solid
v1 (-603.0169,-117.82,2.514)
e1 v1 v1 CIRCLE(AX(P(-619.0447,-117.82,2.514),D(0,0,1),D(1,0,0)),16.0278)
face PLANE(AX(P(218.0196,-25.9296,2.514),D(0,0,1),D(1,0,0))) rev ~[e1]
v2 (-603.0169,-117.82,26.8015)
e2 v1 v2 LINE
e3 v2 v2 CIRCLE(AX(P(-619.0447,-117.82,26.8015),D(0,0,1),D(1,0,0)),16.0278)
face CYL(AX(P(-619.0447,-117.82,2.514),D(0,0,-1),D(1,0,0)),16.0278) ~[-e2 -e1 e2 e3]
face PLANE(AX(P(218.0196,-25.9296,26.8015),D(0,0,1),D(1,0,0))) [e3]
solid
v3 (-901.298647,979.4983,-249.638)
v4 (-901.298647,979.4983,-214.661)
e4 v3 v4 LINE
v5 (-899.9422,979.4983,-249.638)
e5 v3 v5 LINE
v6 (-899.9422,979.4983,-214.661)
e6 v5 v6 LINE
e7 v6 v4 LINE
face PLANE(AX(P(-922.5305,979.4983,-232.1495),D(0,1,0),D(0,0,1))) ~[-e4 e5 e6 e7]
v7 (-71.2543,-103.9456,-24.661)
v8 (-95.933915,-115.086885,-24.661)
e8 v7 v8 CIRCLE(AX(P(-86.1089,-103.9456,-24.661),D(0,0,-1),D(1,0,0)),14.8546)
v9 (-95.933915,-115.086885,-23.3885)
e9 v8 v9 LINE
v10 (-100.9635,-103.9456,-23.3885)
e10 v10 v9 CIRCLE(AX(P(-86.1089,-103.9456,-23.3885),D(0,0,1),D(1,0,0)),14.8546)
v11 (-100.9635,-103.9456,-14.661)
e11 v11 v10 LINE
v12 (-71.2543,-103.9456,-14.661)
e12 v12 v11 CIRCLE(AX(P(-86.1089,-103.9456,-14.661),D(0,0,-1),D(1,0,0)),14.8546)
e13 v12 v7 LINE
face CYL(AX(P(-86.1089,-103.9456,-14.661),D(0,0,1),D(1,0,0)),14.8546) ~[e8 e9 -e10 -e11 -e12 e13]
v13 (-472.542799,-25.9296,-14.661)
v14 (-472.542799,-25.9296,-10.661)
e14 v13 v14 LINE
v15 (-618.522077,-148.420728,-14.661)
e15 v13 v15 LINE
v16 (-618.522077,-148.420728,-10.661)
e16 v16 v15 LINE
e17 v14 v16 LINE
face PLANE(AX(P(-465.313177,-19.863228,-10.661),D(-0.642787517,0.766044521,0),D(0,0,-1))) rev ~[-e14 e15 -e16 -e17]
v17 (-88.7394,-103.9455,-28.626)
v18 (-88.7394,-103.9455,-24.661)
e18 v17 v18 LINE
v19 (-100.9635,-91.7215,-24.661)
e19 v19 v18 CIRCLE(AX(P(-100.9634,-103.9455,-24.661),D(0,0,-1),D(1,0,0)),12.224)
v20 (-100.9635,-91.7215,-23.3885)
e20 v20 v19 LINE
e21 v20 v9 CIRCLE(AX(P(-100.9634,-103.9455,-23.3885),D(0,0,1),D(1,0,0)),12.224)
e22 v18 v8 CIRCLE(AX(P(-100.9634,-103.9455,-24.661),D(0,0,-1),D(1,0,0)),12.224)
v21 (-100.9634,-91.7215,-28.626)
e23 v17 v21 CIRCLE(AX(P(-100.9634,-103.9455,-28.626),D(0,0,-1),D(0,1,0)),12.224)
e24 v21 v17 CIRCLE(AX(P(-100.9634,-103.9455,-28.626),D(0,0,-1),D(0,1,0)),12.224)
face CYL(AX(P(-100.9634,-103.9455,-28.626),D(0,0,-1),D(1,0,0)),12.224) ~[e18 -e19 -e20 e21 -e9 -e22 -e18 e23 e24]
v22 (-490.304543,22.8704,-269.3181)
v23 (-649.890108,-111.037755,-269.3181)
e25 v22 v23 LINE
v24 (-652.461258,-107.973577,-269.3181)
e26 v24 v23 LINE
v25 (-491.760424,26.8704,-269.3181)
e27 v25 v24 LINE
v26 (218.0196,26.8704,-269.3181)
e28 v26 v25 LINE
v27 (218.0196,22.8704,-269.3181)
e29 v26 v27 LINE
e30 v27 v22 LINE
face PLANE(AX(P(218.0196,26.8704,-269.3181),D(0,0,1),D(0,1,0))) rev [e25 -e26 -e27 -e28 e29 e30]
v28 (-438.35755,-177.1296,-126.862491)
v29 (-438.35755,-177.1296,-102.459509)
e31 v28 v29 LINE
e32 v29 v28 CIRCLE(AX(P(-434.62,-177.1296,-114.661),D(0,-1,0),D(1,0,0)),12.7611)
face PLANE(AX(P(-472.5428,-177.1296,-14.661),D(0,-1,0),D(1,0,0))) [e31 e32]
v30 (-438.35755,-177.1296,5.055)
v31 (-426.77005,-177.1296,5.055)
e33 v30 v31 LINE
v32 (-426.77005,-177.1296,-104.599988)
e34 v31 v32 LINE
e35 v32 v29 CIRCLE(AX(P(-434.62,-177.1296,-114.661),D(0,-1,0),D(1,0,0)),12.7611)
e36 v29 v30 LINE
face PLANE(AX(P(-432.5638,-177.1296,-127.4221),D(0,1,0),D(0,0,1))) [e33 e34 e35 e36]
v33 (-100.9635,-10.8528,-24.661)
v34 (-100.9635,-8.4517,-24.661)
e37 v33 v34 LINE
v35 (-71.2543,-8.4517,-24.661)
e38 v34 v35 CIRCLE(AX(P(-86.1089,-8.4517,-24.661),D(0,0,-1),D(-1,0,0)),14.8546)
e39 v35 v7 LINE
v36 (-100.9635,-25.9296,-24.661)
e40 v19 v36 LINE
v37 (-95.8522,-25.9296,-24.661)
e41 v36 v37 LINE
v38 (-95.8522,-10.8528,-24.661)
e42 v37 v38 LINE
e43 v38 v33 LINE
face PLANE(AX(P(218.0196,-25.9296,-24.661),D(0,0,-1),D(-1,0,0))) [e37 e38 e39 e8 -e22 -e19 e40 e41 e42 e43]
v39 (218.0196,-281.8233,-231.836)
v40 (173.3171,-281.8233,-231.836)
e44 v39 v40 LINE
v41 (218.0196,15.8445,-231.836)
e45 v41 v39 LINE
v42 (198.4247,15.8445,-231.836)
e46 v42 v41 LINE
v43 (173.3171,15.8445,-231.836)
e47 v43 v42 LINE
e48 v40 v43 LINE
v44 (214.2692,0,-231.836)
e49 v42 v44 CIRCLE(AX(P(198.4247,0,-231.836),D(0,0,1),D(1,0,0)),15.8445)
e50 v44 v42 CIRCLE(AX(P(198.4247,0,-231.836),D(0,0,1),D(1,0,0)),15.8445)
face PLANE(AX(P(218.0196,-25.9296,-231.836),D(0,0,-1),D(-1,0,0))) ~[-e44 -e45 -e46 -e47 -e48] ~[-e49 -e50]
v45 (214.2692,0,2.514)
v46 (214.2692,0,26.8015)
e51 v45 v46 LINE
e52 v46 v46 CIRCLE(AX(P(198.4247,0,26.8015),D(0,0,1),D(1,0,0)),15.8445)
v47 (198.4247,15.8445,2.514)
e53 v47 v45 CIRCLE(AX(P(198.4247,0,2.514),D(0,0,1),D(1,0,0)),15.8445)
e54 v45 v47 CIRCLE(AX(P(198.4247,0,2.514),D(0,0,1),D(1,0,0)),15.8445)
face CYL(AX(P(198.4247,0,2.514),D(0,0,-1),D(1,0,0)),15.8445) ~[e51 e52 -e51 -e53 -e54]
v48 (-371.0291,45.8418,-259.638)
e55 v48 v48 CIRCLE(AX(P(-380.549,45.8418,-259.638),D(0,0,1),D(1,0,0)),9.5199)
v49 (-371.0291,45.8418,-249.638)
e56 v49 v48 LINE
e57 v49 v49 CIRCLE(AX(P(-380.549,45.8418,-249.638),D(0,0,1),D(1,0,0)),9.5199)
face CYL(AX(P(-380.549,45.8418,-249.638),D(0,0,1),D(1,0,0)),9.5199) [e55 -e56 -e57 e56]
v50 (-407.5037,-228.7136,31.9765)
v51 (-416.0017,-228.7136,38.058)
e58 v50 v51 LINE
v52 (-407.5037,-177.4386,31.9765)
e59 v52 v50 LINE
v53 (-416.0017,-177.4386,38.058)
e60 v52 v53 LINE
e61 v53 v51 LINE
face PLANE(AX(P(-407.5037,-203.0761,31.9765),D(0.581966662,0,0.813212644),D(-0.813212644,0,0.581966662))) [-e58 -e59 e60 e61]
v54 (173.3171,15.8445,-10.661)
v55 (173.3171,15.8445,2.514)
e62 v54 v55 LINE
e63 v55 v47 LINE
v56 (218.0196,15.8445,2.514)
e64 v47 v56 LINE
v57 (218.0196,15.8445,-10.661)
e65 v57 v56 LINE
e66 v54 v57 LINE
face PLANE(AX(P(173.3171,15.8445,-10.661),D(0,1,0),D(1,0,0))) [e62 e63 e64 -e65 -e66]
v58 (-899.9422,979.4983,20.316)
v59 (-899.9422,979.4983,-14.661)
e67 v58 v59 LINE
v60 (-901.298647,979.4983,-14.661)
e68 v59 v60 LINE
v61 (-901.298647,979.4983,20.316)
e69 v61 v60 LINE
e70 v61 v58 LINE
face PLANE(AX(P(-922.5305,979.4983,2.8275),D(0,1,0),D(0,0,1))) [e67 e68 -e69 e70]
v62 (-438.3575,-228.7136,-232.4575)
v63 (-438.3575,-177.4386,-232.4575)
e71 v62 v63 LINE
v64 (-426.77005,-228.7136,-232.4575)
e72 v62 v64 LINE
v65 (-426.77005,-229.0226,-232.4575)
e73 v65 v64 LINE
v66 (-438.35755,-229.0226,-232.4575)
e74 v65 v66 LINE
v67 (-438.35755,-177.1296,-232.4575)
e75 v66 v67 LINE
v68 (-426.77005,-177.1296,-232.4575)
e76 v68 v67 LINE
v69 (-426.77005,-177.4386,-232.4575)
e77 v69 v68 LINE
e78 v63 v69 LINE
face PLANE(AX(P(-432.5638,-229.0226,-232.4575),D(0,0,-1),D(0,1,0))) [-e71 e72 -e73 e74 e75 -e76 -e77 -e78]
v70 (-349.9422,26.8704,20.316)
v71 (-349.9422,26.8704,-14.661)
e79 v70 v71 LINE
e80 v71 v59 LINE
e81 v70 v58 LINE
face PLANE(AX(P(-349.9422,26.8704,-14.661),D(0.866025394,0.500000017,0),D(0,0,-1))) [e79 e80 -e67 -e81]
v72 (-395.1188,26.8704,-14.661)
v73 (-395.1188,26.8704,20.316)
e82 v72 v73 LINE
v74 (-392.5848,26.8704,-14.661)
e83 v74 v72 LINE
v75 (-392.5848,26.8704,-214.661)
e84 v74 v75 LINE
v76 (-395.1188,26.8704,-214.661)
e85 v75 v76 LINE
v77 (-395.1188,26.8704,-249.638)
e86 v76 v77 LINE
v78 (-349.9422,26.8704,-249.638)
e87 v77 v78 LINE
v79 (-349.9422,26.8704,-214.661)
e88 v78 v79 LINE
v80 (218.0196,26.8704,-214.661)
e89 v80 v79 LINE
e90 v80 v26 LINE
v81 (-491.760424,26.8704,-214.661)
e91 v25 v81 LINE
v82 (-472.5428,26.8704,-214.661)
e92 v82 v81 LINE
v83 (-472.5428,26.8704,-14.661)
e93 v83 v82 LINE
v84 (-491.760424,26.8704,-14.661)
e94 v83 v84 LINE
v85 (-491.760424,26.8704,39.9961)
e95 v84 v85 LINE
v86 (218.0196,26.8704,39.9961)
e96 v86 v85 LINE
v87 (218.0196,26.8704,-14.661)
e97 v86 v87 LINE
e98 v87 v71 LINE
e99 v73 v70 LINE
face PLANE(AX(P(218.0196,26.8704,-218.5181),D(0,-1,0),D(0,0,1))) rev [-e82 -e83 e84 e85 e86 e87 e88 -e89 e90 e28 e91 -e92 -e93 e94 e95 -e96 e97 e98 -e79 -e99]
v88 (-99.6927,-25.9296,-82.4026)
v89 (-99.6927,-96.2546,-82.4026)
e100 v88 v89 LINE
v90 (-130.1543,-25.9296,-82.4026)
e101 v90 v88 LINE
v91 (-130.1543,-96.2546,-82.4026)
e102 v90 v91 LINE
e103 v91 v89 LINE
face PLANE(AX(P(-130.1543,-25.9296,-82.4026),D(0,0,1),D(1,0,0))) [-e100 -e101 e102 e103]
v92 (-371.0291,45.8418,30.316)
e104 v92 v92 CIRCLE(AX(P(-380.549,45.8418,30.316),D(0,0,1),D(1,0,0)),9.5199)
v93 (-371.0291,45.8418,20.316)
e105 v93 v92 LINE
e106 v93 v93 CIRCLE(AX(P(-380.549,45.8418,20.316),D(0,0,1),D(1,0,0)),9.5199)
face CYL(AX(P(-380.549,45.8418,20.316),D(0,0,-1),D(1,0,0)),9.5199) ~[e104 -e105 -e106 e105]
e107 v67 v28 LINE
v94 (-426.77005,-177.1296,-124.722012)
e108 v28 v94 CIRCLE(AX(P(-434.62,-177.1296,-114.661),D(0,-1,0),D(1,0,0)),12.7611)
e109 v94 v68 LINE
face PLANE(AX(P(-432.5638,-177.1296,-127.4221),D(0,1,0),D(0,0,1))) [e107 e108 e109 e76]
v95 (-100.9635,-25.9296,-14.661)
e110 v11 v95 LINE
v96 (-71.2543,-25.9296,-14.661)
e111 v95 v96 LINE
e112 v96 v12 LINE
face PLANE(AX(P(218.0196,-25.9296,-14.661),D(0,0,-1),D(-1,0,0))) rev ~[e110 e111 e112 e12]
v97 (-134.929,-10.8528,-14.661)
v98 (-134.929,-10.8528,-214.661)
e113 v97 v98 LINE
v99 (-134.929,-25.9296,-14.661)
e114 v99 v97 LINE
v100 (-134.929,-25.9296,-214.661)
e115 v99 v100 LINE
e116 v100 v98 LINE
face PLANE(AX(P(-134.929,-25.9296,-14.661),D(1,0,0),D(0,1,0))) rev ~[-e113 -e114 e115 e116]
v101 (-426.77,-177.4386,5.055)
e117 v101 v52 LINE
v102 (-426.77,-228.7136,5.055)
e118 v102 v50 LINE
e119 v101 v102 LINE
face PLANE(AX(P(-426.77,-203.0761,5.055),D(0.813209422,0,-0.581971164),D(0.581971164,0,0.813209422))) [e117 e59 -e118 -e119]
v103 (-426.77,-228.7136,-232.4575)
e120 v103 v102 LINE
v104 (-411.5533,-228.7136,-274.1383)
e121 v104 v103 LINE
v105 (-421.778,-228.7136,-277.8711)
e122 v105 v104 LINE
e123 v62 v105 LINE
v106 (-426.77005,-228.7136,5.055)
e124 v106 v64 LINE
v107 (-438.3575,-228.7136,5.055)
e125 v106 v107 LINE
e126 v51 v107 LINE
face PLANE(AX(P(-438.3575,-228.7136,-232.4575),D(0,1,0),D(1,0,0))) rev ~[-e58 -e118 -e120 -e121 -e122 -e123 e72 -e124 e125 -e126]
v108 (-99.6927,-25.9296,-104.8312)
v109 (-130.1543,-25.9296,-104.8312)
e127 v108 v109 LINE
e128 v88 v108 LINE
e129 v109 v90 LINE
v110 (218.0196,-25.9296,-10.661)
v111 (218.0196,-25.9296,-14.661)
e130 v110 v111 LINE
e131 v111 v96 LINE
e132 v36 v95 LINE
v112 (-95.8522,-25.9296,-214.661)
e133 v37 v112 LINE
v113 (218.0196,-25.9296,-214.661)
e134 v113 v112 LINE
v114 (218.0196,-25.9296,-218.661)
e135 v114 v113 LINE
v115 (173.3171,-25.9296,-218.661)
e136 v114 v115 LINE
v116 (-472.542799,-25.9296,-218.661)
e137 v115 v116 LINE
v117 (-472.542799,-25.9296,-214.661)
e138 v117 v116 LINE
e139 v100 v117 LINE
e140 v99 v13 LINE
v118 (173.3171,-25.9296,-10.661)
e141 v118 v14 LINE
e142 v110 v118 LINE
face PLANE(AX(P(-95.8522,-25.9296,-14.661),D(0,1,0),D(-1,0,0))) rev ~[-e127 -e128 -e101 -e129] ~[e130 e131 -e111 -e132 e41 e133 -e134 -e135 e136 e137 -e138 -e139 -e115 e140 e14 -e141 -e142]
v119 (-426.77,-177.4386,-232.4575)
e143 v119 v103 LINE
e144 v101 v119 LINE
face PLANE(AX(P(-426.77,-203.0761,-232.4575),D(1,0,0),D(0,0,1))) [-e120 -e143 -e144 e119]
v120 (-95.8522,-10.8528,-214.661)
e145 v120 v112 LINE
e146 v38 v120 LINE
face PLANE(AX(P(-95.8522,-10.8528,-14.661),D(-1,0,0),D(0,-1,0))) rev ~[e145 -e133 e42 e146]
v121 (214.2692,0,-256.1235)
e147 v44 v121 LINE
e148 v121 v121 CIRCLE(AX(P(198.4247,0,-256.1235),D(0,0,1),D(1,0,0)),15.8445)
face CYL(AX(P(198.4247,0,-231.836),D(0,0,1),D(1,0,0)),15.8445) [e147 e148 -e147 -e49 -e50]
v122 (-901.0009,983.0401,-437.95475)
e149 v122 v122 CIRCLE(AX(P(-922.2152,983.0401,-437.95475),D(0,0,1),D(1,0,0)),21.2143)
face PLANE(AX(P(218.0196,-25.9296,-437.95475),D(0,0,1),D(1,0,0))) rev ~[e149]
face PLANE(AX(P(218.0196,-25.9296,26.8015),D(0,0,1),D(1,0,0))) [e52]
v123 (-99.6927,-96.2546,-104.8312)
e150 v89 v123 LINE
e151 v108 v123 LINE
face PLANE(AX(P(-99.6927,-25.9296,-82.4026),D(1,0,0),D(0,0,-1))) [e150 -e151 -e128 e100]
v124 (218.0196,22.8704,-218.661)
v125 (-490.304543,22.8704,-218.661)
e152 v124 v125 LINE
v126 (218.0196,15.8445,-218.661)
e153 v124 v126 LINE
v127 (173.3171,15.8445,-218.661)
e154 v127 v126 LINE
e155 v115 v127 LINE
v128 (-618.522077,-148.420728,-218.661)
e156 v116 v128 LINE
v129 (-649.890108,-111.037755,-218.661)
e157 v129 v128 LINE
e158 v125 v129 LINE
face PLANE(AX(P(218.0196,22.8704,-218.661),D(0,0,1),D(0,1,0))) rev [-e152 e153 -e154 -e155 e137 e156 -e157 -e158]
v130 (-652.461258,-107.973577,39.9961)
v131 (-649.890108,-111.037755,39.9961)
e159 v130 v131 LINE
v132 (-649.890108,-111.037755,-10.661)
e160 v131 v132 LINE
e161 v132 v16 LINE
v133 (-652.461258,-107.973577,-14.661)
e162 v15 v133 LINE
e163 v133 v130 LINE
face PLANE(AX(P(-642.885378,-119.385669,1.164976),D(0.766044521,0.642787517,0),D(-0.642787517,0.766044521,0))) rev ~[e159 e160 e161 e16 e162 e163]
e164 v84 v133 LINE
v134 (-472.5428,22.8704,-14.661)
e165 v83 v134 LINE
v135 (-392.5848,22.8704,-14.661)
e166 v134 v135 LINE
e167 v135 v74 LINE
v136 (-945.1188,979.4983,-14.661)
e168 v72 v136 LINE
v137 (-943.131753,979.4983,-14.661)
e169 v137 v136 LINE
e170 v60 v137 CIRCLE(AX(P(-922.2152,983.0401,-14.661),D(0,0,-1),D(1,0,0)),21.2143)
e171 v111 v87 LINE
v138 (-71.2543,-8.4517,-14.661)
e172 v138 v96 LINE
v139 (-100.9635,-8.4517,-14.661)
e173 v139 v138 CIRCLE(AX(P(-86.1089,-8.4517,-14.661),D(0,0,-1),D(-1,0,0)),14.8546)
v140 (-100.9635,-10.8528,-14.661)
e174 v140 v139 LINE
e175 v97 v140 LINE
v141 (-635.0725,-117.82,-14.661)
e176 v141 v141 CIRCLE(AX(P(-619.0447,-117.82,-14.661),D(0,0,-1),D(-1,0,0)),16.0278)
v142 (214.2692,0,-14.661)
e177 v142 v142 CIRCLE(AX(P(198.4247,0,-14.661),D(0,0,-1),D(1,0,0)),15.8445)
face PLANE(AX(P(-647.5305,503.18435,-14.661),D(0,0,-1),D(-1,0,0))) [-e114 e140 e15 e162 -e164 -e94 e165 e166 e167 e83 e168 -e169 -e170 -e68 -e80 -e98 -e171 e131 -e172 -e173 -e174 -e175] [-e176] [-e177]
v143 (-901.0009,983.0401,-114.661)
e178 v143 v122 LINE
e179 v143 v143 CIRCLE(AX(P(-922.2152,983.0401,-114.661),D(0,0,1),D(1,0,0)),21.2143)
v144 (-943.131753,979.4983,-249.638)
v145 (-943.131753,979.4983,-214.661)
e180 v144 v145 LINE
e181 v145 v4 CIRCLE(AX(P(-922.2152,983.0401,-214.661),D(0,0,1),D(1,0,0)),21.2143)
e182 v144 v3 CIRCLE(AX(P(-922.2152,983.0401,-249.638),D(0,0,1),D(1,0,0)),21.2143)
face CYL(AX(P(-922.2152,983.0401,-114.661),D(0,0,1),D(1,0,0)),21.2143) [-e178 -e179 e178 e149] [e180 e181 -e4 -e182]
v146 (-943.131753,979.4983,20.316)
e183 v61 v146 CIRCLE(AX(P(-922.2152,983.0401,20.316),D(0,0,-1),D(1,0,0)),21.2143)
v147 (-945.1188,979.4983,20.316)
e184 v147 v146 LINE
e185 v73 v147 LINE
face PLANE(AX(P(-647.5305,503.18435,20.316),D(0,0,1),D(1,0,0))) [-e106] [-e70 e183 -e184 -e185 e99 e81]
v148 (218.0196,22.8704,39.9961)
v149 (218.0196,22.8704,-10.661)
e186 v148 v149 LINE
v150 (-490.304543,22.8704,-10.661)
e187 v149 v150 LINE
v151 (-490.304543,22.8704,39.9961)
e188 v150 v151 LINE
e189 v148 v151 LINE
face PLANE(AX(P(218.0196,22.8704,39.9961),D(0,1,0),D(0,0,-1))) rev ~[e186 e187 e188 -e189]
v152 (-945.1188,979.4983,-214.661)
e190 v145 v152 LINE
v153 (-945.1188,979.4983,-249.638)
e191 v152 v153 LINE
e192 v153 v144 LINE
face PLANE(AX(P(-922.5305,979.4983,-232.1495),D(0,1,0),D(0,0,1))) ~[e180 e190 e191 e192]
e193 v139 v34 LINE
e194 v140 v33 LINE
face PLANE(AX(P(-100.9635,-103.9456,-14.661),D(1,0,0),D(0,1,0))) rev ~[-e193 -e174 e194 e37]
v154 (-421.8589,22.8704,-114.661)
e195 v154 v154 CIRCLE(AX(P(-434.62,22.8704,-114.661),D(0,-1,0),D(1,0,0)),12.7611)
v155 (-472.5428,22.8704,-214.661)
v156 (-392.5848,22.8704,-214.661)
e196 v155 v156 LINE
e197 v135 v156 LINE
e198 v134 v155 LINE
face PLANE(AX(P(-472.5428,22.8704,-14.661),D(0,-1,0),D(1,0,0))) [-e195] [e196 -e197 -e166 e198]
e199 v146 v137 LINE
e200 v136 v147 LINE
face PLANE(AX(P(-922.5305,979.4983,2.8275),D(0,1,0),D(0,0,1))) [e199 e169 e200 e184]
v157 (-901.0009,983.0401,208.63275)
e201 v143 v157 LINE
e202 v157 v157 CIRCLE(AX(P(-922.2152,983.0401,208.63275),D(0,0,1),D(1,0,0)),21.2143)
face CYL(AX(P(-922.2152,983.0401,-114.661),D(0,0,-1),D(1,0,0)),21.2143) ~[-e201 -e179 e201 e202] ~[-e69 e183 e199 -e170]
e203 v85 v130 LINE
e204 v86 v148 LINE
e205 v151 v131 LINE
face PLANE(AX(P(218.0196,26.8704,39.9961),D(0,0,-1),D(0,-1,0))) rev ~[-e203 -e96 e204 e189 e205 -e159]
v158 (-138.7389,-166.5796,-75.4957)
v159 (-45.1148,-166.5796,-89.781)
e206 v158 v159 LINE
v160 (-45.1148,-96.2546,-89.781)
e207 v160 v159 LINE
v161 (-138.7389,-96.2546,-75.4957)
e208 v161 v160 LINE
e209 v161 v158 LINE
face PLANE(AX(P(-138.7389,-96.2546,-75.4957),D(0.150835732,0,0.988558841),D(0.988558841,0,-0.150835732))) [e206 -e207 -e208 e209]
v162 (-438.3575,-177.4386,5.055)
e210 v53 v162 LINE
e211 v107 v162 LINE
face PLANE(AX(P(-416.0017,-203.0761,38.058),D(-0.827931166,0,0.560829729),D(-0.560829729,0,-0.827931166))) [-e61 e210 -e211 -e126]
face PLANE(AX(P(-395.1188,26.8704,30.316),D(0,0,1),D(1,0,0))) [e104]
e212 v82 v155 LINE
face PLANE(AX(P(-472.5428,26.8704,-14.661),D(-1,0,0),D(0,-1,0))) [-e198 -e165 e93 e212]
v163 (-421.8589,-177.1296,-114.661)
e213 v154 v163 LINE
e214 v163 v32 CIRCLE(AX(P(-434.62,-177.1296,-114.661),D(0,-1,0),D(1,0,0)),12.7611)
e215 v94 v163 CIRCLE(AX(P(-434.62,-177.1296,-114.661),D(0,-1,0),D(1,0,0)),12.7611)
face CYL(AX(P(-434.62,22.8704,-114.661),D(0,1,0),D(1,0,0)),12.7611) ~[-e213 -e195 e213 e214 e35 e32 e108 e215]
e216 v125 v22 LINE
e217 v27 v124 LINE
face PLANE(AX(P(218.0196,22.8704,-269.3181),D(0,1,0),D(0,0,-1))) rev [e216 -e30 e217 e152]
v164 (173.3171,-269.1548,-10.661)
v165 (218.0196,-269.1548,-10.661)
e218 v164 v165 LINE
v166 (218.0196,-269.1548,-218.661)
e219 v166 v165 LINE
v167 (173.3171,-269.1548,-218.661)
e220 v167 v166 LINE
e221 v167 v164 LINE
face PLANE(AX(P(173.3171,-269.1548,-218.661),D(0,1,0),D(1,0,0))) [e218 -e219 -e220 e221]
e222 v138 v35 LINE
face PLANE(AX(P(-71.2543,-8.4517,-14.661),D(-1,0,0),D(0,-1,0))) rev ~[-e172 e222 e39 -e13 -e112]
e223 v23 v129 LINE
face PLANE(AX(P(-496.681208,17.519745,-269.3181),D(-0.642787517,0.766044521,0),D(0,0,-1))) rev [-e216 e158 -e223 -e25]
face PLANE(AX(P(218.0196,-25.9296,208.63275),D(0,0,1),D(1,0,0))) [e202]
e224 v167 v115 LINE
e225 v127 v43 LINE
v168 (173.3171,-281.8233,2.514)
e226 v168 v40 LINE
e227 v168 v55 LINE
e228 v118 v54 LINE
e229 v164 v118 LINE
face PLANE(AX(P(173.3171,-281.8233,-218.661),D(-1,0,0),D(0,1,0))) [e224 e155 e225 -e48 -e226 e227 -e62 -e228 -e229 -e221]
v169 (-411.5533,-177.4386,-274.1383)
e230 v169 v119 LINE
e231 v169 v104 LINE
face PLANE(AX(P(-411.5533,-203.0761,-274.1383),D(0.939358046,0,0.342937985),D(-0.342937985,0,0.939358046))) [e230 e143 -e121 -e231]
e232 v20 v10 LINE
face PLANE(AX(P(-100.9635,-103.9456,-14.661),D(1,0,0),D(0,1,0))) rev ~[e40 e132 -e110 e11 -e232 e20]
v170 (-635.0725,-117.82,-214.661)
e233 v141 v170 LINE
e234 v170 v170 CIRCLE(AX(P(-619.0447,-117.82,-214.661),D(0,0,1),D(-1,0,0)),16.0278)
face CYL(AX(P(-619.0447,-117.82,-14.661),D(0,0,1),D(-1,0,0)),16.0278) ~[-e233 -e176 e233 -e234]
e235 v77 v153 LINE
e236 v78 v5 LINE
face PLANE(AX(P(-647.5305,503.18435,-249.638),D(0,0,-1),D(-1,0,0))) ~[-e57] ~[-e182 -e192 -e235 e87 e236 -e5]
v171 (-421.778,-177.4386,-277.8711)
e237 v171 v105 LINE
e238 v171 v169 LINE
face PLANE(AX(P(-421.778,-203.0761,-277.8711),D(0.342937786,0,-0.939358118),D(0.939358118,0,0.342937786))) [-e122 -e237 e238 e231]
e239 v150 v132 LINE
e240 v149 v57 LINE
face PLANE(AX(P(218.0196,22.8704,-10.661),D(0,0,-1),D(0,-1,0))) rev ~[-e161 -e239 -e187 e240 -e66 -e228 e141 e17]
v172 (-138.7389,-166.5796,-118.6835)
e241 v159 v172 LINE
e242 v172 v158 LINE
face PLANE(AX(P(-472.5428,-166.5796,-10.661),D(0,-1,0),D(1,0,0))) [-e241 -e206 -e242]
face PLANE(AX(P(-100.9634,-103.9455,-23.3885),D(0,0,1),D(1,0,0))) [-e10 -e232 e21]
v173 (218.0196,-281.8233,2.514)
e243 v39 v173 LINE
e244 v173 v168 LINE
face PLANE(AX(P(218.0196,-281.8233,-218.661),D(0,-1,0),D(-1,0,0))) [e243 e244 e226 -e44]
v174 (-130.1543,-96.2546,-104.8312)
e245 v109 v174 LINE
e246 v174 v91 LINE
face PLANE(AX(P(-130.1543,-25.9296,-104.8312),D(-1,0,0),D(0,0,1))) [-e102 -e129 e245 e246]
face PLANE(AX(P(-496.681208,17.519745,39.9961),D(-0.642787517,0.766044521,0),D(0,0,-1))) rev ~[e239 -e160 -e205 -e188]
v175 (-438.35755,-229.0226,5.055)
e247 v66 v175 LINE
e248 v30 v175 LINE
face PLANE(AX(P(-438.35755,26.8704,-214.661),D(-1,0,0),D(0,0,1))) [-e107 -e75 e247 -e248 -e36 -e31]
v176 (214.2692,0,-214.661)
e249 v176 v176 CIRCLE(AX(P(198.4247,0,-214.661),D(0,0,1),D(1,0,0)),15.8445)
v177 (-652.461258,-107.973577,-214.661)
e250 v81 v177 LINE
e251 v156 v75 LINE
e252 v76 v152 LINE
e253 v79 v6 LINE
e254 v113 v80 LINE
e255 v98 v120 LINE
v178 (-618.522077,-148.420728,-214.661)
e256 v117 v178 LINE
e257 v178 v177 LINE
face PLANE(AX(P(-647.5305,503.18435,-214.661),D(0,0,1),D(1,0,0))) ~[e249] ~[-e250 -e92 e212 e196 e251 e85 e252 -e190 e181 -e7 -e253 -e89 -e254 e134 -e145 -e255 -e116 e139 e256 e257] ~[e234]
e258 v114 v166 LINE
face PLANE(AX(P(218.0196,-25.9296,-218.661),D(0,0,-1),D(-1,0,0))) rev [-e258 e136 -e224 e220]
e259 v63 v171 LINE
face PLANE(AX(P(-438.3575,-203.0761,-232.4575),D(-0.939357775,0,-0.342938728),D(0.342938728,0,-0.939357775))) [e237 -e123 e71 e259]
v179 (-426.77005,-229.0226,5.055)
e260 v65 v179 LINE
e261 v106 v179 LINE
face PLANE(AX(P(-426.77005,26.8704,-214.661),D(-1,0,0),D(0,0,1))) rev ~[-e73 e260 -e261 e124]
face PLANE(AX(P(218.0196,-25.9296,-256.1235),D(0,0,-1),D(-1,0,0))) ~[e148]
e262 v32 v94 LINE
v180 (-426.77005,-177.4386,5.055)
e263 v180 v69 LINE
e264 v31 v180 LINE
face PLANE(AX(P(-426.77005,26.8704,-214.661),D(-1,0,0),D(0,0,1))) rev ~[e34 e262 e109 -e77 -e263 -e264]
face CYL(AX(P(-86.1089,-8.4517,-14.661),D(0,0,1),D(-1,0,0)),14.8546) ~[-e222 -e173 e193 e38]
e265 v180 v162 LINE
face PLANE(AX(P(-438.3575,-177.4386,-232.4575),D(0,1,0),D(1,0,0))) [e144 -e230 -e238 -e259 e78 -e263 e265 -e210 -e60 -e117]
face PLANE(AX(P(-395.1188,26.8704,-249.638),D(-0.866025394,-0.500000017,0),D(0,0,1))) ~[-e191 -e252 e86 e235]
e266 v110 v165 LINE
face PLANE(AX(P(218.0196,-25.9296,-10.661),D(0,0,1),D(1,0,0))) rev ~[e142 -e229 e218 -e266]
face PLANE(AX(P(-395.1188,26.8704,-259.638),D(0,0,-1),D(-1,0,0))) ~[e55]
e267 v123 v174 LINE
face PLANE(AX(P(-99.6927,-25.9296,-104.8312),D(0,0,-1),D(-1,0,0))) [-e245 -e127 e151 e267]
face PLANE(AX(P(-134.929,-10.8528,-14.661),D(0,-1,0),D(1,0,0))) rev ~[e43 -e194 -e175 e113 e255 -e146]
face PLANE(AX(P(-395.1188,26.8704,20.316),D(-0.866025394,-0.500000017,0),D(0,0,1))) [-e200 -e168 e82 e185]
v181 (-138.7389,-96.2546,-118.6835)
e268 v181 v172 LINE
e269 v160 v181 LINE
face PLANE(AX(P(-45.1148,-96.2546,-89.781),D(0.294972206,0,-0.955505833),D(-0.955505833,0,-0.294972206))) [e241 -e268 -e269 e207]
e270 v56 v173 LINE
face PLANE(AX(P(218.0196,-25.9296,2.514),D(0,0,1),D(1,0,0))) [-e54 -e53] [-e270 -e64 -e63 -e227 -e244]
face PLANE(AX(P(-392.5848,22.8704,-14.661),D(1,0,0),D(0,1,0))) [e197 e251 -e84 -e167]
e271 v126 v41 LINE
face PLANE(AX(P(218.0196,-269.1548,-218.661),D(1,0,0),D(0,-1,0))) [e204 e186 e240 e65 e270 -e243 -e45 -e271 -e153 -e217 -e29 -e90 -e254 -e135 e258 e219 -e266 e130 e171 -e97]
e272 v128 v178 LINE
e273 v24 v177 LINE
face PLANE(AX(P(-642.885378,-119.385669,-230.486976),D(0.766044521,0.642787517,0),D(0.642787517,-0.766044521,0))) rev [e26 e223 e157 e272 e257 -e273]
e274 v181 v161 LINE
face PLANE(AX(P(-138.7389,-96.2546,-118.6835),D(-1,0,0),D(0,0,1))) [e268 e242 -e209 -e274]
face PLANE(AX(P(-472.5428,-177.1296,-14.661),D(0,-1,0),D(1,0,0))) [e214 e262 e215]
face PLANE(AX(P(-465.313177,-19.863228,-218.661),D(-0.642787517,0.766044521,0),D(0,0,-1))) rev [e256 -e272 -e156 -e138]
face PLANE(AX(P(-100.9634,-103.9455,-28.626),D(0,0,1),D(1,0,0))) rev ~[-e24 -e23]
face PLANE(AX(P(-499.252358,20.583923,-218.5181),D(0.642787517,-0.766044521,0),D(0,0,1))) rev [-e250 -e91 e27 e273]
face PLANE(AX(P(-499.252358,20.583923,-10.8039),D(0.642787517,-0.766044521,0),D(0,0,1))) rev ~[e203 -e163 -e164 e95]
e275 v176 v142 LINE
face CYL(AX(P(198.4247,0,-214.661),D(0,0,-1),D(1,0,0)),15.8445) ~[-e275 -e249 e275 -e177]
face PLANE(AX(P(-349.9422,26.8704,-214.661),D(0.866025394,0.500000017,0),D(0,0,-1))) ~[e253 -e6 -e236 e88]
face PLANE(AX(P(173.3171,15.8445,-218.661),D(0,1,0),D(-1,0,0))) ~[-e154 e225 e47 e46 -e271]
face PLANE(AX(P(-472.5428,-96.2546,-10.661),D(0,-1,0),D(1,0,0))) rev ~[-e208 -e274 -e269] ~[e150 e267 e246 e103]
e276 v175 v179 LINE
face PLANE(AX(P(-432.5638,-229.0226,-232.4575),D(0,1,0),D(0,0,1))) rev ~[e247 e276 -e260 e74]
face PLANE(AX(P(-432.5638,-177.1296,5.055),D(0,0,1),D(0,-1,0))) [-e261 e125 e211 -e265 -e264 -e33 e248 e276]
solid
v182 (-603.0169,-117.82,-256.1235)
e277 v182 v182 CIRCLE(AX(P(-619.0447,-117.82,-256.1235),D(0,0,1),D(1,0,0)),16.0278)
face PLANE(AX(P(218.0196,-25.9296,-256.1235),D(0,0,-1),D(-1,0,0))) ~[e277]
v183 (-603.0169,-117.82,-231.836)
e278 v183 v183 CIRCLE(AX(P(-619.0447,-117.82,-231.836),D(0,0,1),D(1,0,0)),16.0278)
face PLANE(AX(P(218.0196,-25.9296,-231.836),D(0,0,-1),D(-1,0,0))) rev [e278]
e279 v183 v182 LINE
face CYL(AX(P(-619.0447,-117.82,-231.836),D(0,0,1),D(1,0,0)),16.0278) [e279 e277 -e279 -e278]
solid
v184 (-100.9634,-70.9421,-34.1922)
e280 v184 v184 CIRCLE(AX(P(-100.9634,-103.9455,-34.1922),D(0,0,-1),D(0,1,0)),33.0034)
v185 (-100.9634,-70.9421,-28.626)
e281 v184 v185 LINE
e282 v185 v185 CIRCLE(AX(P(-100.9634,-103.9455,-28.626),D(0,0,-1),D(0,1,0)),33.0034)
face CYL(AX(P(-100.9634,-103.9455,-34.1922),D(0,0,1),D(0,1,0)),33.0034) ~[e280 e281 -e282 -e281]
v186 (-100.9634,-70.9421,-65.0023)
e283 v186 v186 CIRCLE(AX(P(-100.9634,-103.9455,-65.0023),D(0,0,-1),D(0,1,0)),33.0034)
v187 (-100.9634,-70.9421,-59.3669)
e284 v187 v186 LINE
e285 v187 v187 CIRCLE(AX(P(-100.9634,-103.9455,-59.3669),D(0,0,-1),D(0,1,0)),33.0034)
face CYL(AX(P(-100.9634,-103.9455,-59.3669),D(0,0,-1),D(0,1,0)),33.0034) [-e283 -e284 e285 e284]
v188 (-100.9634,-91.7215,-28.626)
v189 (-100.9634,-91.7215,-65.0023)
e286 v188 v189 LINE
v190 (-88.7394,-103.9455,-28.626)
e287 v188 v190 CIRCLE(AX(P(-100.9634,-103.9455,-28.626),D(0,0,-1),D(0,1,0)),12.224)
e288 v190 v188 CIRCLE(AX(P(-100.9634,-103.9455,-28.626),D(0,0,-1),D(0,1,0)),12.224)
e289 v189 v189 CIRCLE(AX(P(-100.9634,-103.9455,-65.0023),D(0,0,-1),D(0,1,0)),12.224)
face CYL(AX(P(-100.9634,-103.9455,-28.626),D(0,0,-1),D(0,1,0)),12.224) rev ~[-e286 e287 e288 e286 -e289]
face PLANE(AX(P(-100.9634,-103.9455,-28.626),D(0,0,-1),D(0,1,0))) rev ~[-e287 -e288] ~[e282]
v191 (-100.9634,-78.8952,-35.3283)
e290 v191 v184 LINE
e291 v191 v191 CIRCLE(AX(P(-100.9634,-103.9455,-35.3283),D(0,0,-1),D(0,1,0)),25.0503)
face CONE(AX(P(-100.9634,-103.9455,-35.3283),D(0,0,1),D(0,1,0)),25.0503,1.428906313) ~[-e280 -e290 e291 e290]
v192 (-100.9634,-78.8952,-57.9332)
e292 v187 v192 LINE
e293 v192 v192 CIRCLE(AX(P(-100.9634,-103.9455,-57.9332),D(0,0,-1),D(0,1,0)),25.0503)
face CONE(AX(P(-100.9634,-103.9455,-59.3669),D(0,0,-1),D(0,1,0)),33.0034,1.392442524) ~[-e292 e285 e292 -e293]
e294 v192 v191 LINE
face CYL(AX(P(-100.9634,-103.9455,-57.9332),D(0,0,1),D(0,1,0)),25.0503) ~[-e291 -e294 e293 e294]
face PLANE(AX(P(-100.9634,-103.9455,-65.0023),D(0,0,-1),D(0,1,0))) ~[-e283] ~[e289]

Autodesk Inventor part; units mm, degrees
sketch "Sketch1" plane through (0, 0, 0) normal (0, 0, 1) x (1, 0, 0)
  line L0 (218.0196, 0) -> (-481.9804, 0)
  line L1 (-481.9804, 0) -> (-635.1893, -128.5575)
  point P0 (0, 0)
  dimension "d0" = 700
  dimension "d1" = 200
  dimension "d2" = 140
sketch "Sketch2" plane through (0, 0, 0) normal (1, 0, 0) x (0, 1, 0)
  line L0 (26.8704, 39.9961) -> (22.8704, 39.9961)
  line L1 (22.8704, 39.9961) -> (22.8704, -10.661)
  line L2 (26.8704, -10.8039) -> (26.8704, 39.9961)
  line L3 (22.8704, -10.661) -> (-25.9296, -10.661)
  line L4 (-25.9296, -10.661) -> (-25.9296, -14.661)
  line L5 (-25.9296, -14.661) -> (26.8704, -14.661)
  line L6 (26.8704, -14.661) -> (26.8704, -10.661)
  point P0 (0, 0)
  dimension "d3" = 4
  dimension "d4" = 4
sweep "Sweep1" add profiles "Sketch2" path "Sketch1"
sketch "Sketch3" plane through (218.0196, -25.9296, -14.661) normal (0, 0, -1) x (-1, 0, 0)
  line L0 (610.6044, 52.8) -> (690.5624, 52.8)
  line L1 (690.5624, 52.8) -> (690.5624, 48.8)
  line L2 (690.5624, 48.8) -> (610.6044, 48.8)
  line L3 (610.6044, 48.8) -> (610.6044, 52.8)
  line L4 (690.5624, 0) -> (690.5624, 66.6309) construction
  line L5 (0, 52.8) -> (709.78, 52.8) projected
  point P0 (218.0196, 25.9296)
  point P1 (690.5624, 50.8)
  point P2 (650.5834, 52.8)
  dimension "d9" = 4
extrude "Extrusion1" add sketch "Sketch3" along normal blind 200
ref_plane "Work Plane1" through (218.0196, -25.9296, -114.661) normal (0, 0, -1) x (-1, 0, 0)
mirror "Mirror1" about plane through (218.0196, -25.9296, -114.661) normal (0, 0, -1) of "Sweep1"
sketch "Sketch5" plane through (218.0196, 26.8704, 39.9961) normal (0, 1, 0) x (1, 0, 0)
  line L0 (-613.1384, 54.6571) -> (-567.9618, 54.6571)
  line L1 (-567.9618, 54.6571) -> (-567.9618, 19.6801)
  line L2 (-567.9618, 19.6801) -> (-613.1384, 19.6801)
  line L3 (-613.1384, 19.6801) -> (-613.1384, 54.6571)
  point P0 (-218.0196, 39.9961)
  point P1 (-590.5501, 54.6571)
sketch "Sketch6" plane through (218.0196, -25.9296, -10.661) normal (0, 0, 1) x (1, 0, 0)
  line L0 (0, 52.8) -> (-610.6044, 52.8) projected
  line L1 (-583.5598, 52.8) -> (-1133.5598, 1005.4279)
  line L2 (0, 52.8) -> (-709.78, 52.8) projected
  point P0 (-218.0196, 25.9296)
  point P1 (-354.89, 52.8)
  dimension "d13" = 60
  dimension "d14" = 1100
sweep "Sweep2" add profiles "Sketch5" path "Sketch6" path curves L1
mirror "Mirror2" about plane through (218.0196, -25.9296, -114.661) normal (0, 0, -1) of "Sweep2"
sketch "Sketch8" plane through (218.0196, -25.9296, -214.661) normal (0, 0, 1) x (1, 0, 0)
  circle A0 centre (-19.5949, 25.9296) radius 15.8445
  point P0 (-218.0196, 25.9296)
extrude "Extrusion2" add sketch "Sketch8" along normal up to next
sketch "Sketch9" plane through (218.0196, -25.9296, -14.661) normal (0, 0, -1) x (-1, 0, 0)
  circle A0 centre (837.0643, -91.8904) radius 16.0278
  point P0 (218.0196, 25.9296)
extrude "Extrusion3" add sketch "Sketch9" along normal up to next
sketch "Sketch10" plane through (218.0196, -25.9296, -14.661) normal (0, 0, -1) x (-1, 0, 0)
  line L0 (304.1285, 17.4779) -> (304.1285, -78.016) construction
  line L1 (289.2739, 17.4779) -> (289.2739, -78.016)
  line L2 (318.9831, -78.016) -> (318.9831, 17.4779)
  arc A0 (318.9831, 17.4779) -> (289.2739, 17.4779) centre (304.1285, 17.4779) ccw
  arc A1 (289.2739, -78.016) -> (318.9831, -78.016) centre (304.1285, -78.016) ccw
  point P0 (218.0196, 25.9296)
  point P1 (304.1285, -30.2691)
extrude "Extrusion4" add sketch "Sketch10" along normal blind 10
sketch "Sketch11" plane through (-100.9634, -103.9455, -14.661) normal (-1, 0, 0) x (0, 0, 1)
  line L0 (-10, 95.4938) -> (-10, 0) construction
  line L1 (-43.2722, 25.0503) -> (-20.6673, 25.0503)
  line L2 (-20.6673, 25.0503) -> (-19.5312, 33.0034)
  line L3 (-19.5312, 33.0034) -> (-13.965, 33.0034)
  line L4 (-13.965, 33.0034) -> (-13.965, 12.224)
  line L5 (-13.965, 12.224) -> (-50.3413, 12.224)
  line L6 (-50.3413, 12.224) -> (-50.3413, 33.0034)
  line L7 (-44.7059, 33.0034) -> (-43.2722, 25.0503)
  line L8 (-44.7059, 33.0034) -> (-50.3413, 33.0034)
  line L9 (-10, 0) -> (-79.3915, 0)
  point P0 (14.661, 103.9455)
revolve "Revolution1" add sketch "Sketch11" angle 360 about axis through (-100.9634, -103.9455, -24.661) along (0, 0, -1)
sketch "Sketch12" plane through (-100.9634, -103.9455, -28.626) normal (0, 0, 1) x (1, 0, 0)
  circle A0 centre (0, 0) radius 12.224 projected
  point P0 (100.9634, 103.9455)
extrude "Extrusion5" add sketch "Sketch12" along normal blind 5.2375
sketch "Sketch13" plane through (-472.5428, 22.8704, -14.661) normal (0, -1, 0) x (1, 0, 0)
  line L0 (79.958, 0) -> (79.958, -200) construction
  line L1 (79.958, -100) -> (-28.5864, -100) construction
  circle A0 centre (37.9228, -100) radius 12.7611
  point P0 (472.5428, 14.661)
extrude "Extrusion6" add sketch "Sketch13" along normal blind 200
ref_plane "Work Plane2" through (-432.5638, 26.8704, -214.661) normal (-1, 0, 0) x (0, 0, 1)
sketch "Sketch14" plane through (-432.5638, 26.8704, -214.661) normal (-1, 0, 0) x (0, 0, 1)
  line L0 (87.2389, -204) -> (112.7611, -204) projected
  line L1 (87.2389, -204) -> (112.7611, -204) projected
  line L2 (112.7611, -4) -> (87.2389, -4) projected
  line L3 (87.2389, -204) -> (-17.7965, -204)
  line L4 (112.7611, -204) -> (219.716, -204)
  line L5 (-17.7965, -255.893) -> (219.716, -255.893)
  line L6 (-17.7965, -255.893) -> (-17.7965, -204)
  line L7 (219.716, -204) -> (219.716, -255.893)
  point P0 (214.661, -26.8704)
extrude "Extrusion7" add sketch "Sketch14" along normal mid plane 11.5875
ref_plane "Work Plane3" through (-438.3575, -203.0761, -232.4575) normal (0, 1, 0) x (1, 0, 0)
sketch "Sketch15" plane through (-438.3575, -203.0761, -232.4575) normal (0, 1, 0) x (1, 0, 0)
  line L0 (0, 0) -> (16.5795, 45.4136)
  line L1 (16.5795, 45.4136) -> (26.8042, 41.6808)
  line L2 (26.8042, 41.6808) -> (11.5875, 0)
  line L3 (11.5875, 0) -> (11.5875, -237.5125)
  line L4 (11.5875, -127.8575) -> (11.5875, -237.5125) projected
  line L5 (11.5875, -237.5125) -> (30.8538, -264.434)
  line L6 (30.8538, -264.434) -> (22.3558, -270.5155)
  line L7 (22.3558, -270.5155) -> (0, -237.5125)
  line L8 (0, -237.5125) -> (0, 0)
  line L9 (0, -105.595) -> (0, 0) projected
  point P0 (438.3575, -232.4575)
extrude "Extrusion8" add sketch "Sketch15" along normal mid plane 51.275
sketch "Sketch16" plane through (218.0196, -25.9296, -14.661) normal (0, 0, -1) x (-1, 0, 0)
  line L0 (0, 0) -> (690.5624, 0) projected
  line L1 (313.8718, 0) -> (352.9486, 0)
  line L2 (352.9486, 0) -> (352.9486, 15.0768)
  line L3 (352.9486, 15.0768) -> (313.8718, 15.0768)
  line L4 (313.8718, 15.0768) -> (313.8718, 0)
  point P0 (218.0196, 25.9296)
extrude "Extrusion9" add sketch "Sketch16" along normal up to surface (200 mm away)
sketch "Sketch17" plane through (-472.5428, -25.9296, -10.661) normal (0, -1, 0) x (1, 0, 0)
  line L0 (342.3885, -71.7416) -> (372.8501, -71.7416)
  line L1 (372.8501, -71.7416) -> (372.8501, -94.1702)
  line L2 (372.8501, -94.1702) -> (342.3885, -94.1702)
  line L3 (342.3885, -94.1702) -> (342.3885, -71.7416)
  point P0 (472.5428, 10.661)
extrude "Extrusion10" add sketch "Sketch17" along normal blind 70.325
sketch "Sketch18" plane through (-472.5428, -96.2546, -10.661) normal (0, -1, 0) x (1, 0, 0)
  line L0 (333.8039, -108.0225) -> (333.8039, -64.8347)
  line L1 (333.8039, -64.8347) -> (427.428, -79.12)
  line L2 (427.428, -79.12) -> (333.8039, -108.0225)
  point P0 (472.5428, 10.661)
extrude "Extrusion11" add sketch "Sketch18" along normal blind 70.325
sketch "Sketch19" plane through (218.0196, -25.9296, -10.661) normal (0, 0, 1) x (1, 0, 0)
  line L0 (-44.7025, 41.7741) -> (0, 41.7741)
  line L1 (0, 41.7741) -> (0, -255.8937)
  line L2 (0, -255.8937) -> (-44.7025, -255.8937)
  line L3 (-44.7025, -255.8937) -> (-44.7025, 41.7741)
  point P0 (-218.0196, 25.9296)
extrude "Extrusion12" add sketch "Sketch19" along normal blind 13.175
ref_plane "Work Plane4" through (218.0196, -25.9296, -114.661) normal (0, 0, -1) x (-1, 0, 0)
mirror "Mirror3" about plane through (218.0196, -25.9296, -114.661) normal (0, 0, -1) of "Extrusion12"
sketch "Sketch20" plane through (173.3171, -281.8233, -218.661) normal (0, 0, 1) x (1, 0, 0)
  line L0 (44.7025, 0) -> (0, 0)
  line L1 (0, 0) -> (0, 12.6685)
  line L2 (0, 12.6685) -> (44.7025, 12.6685)
  line L3 (44.7025, 12.6685) -> (44.7025, 0)
  point P0 (-173.3171, 281.8233)
extrude "Extrusion13" add sketch "Sketch20" along normal up to next
sketch "Sketch21" plane through (218.0196, -25.9296, 2.514) normal (0, 0, 1) x (1, 0, 0)
  circle A0 centre (-19.5949, 25.9296) radius 15.8445 projected
  circle A1 centre (-837.0643, -91.8904) radius 16.0278 projected
  point P0 (-218.0196, 25.9296)
extrude "Extrusion14" add sketch "Sketch21" along normal blind 24.2875
mirror "Mirror4" about plane through (218.0196, -25.9296, -114.661) normal (0, 0, -1) of "Extrusion14"
ref_plane "Work Plane5" through (218.0196, -25.9296, -114.661) normal (0, 0, 1) x (1, 0, 0)
sketch "Sketch22" plane through (218.0196, -25.9296, -114.661) normal (0, 0, 1) x (1, 0, 0)
  circle A0 centre (-1140.2348, 1008.9697) radius 21.2143
  point P0 (-218.0196, 25.9296)
extrude "Extrusion15" add sketch "Sketch22" along normal mid plane 646.5875
sketch "Sketch23" plane through (-395.1188, 26.8704, 20.316) normal (0, 0, 1) x (1, 0, 0)
  circle A0 centre (14.5698, 18.9714) radius 9.5199
  point P0 (395.1188, -26.8704)
extrude "Extrusion16" add sketch "Sketch23" along normal blind 10
mirror "Mirror5" about plane through (218.0196, -25.9296, -114.661) normal (0, 0, -1) of "Extrusion16"
equation "\"d4\" = d3"
properties part number "frame"
